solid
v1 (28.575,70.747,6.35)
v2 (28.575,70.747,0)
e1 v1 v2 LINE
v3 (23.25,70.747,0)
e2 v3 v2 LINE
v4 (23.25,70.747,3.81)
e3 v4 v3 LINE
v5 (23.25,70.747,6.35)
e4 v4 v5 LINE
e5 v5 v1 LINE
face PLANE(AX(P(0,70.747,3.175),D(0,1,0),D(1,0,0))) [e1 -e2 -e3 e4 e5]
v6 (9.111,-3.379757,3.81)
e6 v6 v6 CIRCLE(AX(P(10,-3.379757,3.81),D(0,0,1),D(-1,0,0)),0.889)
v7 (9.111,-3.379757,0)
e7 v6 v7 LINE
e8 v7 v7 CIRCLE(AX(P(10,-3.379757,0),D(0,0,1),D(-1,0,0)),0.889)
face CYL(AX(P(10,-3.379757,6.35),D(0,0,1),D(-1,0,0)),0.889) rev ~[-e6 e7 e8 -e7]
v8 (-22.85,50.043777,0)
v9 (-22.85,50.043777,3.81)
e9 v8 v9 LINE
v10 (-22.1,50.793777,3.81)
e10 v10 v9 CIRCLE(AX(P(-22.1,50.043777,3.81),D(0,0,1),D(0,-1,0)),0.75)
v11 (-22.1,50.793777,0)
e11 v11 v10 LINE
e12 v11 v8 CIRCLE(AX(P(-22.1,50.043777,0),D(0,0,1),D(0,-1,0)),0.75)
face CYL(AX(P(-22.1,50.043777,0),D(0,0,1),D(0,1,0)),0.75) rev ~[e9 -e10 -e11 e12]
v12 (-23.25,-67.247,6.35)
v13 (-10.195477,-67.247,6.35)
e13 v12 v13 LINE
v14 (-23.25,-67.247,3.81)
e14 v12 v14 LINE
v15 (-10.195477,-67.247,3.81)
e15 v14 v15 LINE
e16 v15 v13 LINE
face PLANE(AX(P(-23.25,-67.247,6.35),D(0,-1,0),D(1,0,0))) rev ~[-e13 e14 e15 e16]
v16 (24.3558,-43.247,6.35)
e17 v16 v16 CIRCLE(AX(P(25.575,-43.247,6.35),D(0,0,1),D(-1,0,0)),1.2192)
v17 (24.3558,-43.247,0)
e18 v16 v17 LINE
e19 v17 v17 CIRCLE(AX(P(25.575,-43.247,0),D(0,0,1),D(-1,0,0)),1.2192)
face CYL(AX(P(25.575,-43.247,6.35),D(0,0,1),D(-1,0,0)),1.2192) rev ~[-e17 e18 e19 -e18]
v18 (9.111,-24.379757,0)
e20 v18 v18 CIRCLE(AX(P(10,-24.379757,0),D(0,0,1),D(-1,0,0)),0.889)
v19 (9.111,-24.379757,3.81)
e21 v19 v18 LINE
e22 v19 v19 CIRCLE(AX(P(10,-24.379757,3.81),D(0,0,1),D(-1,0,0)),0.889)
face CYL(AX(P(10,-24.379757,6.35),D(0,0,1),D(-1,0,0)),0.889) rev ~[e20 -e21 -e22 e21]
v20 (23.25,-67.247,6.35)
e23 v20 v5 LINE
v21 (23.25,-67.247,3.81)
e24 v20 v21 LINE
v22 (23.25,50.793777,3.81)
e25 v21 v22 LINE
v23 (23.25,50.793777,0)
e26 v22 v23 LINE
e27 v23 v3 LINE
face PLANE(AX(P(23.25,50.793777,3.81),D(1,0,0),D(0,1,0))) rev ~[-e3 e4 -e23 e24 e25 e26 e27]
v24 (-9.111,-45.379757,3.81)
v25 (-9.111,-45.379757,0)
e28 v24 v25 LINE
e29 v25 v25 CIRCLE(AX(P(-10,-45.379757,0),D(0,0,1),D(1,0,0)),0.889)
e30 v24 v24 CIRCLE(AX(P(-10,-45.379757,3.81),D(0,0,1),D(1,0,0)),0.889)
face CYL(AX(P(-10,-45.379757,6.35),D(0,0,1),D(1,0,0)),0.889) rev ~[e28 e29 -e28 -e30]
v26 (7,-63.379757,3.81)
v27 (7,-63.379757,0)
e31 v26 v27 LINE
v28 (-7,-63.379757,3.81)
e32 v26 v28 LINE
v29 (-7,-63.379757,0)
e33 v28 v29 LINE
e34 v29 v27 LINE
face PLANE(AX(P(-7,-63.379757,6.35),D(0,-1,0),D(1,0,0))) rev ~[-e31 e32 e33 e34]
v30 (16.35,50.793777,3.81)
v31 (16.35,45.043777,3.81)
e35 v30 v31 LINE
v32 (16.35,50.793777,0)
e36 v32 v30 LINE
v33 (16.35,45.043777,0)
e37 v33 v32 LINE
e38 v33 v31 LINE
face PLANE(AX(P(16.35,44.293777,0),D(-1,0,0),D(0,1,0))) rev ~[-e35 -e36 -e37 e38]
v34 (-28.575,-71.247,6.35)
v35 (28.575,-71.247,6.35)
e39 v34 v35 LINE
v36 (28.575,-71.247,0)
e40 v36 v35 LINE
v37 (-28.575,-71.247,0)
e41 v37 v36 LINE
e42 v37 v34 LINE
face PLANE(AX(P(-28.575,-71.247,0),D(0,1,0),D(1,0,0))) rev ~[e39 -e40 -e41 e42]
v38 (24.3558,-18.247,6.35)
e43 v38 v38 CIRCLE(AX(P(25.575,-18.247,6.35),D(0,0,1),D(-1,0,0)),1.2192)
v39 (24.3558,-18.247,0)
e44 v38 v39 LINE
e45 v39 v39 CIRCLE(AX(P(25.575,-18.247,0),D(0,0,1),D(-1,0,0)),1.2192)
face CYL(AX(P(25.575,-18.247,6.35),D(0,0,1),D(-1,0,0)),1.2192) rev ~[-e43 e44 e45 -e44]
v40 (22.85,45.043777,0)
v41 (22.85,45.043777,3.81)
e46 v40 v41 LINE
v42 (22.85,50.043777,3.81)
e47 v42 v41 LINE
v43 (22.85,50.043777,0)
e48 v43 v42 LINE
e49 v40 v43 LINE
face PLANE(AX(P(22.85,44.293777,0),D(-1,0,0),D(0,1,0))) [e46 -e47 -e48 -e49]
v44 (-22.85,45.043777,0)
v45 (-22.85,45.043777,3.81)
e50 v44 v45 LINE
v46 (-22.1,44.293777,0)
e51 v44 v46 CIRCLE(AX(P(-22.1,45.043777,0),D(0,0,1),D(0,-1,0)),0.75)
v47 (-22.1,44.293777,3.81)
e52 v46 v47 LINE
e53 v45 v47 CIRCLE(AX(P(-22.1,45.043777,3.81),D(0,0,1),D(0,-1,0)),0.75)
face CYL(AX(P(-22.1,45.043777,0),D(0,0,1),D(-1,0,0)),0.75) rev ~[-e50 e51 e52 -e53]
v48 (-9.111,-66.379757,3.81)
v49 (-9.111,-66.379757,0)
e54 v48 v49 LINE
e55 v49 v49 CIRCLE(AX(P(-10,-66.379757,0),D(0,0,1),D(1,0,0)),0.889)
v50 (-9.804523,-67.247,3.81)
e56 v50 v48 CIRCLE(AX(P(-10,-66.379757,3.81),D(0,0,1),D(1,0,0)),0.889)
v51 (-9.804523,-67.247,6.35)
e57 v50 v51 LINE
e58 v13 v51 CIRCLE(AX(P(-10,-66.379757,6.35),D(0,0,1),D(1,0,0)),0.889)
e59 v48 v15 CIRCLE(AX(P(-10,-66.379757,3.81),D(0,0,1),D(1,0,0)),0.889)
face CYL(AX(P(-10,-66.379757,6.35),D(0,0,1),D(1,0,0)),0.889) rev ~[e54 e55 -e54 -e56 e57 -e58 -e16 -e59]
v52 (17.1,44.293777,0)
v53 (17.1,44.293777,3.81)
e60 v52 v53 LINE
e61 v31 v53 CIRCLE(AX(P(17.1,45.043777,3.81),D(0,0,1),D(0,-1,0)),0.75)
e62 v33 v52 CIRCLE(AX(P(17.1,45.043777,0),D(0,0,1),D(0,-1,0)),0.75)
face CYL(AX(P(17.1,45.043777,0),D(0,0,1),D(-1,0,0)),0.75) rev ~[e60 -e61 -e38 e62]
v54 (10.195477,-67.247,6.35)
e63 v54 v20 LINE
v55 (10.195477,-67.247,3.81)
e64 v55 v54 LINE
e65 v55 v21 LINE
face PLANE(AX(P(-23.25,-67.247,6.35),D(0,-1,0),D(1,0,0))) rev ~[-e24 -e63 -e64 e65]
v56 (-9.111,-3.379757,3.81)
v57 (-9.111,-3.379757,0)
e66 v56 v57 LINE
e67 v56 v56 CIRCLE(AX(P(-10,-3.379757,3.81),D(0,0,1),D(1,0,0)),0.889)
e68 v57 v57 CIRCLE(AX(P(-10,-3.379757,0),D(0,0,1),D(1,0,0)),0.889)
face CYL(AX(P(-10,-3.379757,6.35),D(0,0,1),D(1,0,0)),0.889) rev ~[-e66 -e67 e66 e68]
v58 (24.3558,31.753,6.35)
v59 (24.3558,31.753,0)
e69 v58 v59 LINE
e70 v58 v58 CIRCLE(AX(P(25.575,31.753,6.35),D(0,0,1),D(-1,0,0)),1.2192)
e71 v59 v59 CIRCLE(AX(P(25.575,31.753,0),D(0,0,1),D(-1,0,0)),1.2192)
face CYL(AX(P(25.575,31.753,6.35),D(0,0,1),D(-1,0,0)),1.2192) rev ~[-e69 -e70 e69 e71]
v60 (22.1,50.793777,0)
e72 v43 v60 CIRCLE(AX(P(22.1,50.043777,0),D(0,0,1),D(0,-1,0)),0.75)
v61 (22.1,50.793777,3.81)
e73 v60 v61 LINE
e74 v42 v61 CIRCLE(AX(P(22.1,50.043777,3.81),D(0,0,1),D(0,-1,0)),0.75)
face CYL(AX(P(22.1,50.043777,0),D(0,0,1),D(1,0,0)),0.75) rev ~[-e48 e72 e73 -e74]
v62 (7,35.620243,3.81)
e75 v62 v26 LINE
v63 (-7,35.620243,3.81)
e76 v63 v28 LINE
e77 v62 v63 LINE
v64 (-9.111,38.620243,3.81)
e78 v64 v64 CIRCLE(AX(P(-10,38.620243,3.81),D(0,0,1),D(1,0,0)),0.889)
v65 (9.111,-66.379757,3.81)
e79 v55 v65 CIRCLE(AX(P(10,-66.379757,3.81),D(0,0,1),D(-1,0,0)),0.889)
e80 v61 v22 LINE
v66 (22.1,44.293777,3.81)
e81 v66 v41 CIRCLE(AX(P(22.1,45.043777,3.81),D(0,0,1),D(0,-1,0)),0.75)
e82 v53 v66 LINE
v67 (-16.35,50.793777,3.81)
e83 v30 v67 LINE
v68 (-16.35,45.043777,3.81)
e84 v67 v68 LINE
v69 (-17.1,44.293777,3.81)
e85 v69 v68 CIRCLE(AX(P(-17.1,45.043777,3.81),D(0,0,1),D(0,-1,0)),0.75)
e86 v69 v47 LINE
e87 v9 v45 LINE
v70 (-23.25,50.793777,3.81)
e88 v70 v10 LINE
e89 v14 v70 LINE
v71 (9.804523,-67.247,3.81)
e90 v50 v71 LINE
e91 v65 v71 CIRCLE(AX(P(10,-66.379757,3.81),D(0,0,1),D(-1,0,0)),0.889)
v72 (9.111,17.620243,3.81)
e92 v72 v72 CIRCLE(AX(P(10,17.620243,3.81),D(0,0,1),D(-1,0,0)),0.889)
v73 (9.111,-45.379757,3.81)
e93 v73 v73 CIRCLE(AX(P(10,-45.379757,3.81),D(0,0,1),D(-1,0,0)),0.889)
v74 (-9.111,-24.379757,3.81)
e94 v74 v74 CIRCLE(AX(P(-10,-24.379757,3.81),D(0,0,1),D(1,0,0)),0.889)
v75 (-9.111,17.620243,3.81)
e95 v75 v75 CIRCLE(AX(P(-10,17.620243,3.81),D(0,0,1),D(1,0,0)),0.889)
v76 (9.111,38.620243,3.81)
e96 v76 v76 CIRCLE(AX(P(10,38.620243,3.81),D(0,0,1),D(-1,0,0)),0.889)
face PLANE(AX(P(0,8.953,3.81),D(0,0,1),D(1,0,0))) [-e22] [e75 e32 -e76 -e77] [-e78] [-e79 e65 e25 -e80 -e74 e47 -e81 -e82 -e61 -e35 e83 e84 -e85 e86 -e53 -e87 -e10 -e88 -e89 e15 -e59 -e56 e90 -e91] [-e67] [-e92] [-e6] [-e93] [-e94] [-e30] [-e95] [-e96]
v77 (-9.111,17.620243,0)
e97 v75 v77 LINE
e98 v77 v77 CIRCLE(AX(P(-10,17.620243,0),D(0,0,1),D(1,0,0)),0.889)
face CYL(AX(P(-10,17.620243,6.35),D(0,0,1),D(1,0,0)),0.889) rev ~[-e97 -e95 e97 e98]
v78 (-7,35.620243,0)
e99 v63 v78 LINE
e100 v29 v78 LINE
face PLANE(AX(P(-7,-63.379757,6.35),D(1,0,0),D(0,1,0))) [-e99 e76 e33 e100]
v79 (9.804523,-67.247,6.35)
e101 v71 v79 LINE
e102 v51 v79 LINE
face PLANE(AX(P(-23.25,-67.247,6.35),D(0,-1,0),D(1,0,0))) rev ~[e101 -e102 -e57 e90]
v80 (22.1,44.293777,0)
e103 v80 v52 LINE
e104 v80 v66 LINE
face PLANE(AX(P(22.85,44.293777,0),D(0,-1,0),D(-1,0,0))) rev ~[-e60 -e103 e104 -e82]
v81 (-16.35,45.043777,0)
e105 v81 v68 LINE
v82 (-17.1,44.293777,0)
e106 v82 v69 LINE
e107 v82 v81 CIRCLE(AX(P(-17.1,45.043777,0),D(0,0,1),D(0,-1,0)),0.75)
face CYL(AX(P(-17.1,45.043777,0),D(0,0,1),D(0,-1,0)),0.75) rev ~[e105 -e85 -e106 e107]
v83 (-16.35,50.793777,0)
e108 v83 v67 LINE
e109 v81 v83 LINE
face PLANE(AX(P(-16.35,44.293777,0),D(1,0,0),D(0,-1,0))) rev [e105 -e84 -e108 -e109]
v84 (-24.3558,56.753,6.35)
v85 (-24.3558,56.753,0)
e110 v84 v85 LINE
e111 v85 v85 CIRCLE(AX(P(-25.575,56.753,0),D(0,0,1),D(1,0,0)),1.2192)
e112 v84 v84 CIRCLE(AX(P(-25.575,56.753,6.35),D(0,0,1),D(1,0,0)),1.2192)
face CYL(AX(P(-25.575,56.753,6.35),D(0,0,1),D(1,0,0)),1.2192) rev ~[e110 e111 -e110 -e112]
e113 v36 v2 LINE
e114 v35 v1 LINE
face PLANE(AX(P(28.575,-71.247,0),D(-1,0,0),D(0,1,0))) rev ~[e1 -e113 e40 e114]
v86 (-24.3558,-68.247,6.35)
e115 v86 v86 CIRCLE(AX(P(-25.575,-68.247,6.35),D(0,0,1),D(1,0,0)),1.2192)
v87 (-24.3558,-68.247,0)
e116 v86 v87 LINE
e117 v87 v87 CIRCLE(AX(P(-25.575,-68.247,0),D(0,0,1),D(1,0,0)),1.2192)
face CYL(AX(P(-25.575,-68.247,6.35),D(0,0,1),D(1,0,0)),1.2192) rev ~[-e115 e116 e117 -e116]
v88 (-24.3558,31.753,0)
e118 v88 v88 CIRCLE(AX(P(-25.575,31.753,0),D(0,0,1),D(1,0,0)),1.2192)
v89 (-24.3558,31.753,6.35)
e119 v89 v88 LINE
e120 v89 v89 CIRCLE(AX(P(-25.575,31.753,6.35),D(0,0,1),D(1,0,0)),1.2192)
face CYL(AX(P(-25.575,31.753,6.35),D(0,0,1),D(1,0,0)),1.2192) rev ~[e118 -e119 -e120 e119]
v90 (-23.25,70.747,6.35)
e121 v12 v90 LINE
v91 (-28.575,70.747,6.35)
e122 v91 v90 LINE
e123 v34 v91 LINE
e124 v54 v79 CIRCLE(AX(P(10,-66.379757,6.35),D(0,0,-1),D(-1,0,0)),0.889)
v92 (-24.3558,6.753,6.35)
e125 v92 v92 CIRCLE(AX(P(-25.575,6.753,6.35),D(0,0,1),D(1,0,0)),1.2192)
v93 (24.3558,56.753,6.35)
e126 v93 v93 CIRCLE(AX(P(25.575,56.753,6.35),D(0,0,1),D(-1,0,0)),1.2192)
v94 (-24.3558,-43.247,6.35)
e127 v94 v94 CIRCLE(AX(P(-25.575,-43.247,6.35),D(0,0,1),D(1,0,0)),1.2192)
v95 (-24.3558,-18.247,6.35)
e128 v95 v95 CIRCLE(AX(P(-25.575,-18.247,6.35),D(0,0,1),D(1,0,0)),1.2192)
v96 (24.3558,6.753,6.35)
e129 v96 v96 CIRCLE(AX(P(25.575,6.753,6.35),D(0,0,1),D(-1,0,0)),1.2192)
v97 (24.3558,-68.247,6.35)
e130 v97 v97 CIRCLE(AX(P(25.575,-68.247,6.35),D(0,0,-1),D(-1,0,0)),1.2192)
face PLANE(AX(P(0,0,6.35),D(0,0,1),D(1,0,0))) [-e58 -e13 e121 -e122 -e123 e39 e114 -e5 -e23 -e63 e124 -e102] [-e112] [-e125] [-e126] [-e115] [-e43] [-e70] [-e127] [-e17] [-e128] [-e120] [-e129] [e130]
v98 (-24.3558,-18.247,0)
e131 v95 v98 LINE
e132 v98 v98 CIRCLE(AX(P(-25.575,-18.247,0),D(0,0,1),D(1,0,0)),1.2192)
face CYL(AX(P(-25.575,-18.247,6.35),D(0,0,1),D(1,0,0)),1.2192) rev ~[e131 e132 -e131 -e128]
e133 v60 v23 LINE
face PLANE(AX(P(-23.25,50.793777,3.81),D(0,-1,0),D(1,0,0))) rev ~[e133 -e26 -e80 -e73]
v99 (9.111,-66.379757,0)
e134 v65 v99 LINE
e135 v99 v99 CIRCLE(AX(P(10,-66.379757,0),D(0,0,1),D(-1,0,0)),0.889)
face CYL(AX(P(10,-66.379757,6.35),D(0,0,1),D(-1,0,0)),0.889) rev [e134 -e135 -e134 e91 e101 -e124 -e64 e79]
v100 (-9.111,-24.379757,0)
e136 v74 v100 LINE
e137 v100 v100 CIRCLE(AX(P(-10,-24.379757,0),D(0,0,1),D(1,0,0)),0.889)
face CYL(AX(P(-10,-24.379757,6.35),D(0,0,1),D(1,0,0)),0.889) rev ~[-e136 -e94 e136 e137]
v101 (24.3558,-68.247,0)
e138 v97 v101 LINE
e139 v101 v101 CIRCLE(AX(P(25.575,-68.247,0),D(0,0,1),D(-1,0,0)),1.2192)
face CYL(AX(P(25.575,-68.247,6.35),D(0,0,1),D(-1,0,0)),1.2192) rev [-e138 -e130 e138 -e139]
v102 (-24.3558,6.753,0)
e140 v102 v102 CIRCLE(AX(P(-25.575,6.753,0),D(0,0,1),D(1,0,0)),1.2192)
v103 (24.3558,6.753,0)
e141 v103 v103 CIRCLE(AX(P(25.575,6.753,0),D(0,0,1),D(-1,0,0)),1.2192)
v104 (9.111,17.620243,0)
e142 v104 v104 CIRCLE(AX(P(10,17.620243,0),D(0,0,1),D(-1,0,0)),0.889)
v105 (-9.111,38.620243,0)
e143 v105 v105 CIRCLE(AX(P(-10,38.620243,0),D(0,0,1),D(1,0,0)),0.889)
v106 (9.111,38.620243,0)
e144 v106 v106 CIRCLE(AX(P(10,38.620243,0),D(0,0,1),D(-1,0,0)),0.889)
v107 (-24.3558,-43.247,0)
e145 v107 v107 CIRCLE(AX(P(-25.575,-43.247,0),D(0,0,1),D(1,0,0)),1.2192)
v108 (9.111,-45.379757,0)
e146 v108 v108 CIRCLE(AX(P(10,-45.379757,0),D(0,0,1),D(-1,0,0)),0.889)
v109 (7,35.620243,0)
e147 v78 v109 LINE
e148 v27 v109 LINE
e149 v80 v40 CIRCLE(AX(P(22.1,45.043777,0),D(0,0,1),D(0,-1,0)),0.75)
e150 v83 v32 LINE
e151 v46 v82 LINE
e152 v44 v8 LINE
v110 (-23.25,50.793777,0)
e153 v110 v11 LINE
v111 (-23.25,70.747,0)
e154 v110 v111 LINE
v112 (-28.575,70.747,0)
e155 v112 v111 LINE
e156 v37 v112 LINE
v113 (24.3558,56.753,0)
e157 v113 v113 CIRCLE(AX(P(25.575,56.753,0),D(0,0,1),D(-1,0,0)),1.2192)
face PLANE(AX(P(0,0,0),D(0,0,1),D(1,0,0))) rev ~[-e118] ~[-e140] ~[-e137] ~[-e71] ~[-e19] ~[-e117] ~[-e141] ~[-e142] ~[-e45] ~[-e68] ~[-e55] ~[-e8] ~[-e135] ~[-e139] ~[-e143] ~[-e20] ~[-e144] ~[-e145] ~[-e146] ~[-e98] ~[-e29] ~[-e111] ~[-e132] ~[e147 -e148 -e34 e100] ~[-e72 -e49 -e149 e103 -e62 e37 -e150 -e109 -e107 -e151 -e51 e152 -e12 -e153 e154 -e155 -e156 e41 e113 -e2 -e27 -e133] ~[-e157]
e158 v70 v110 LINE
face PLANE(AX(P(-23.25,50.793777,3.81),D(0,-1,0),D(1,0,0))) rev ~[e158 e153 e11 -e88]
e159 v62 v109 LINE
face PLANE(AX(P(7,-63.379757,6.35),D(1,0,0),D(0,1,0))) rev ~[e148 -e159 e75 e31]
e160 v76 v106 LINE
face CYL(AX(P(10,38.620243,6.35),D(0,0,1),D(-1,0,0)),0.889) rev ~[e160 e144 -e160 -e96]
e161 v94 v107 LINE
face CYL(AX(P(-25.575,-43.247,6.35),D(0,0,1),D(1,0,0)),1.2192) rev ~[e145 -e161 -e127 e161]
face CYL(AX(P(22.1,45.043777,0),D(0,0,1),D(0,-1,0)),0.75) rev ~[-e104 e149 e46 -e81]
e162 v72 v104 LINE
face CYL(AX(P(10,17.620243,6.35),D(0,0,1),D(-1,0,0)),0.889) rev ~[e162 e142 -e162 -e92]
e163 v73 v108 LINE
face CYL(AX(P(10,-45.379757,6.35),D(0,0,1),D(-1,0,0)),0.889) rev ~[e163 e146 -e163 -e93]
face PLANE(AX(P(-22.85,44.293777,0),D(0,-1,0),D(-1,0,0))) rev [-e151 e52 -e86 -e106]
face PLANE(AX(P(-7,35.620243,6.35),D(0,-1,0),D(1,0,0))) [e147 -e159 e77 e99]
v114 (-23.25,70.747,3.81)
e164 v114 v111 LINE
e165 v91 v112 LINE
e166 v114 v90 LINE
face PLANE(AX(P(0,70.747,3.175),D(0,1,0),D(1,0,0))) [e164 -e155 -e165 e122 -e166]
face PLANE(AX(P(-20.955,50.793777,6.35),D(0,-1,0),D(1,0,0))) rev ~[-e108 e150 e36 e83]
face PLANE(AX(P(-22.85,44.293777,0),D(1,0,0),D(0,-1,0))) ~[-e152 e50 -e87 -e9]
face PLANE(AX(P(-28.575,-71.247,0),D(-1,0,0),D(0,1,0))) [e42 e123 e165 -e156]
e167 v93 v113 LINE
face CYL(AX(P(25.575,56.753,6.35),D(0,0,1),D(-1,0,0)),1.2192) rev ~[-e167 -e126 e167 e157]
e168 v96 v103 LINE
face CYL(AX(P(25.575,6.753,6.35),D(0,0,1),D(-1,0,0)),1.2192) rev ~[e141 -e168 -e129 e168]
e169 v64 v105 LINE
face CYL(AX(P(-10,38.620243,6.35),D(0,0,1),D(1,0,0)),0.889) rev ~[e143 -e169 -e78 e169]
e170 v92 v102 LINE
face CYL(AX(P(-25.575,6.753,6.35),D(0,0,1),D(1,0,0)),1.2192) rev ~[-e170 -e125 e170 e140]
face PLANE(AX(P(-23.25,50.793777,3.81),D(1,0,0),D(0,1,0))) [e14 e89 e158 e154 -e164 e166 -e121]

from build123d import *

# Parameters (mm, degrees)
SKETCH1_W                 = 57.15
SKETCH1_H                 = 142.494
BOSS_EXTRUDE1_DEPTH       = 6.35
SKETCH2_W                 = 14
SKETCH2_H                 = 99
CUT_EXTRUDE1_DEPTH        = 78.025892621
SKETCH3_R                 = 1.2192
CUT_EXTRUDE2_DEPTH        = 78.025892621
LPATTERN1_COUNT           = 6
LPATTERN1_PITCH           = 25
LPATTERN1_COPY_1_SKETCH_R = 1.2192
LPATTERN1_COPY_1_DEPTH    = 78.025892621
LPATTERN1_COPY_2_SKETCH_R = 1.2192
LPATTERN1_COPY_2_DEPTH    = 78.025892621
LPATTERN1_COPY_3_SKETCH_R = 1.2192
LPATTERN1_COPY_3_DEPTH    = 78.025892621
LPATTERN1_COPY_4_SKETCH_R = 1.2192
LPATTERN1_COPY_4_DEPTH    = 78.025892621
LPATTERN1_COPY_5_SKETCH_R = 1.2192
LPATTERN1_COPY_5_DEPTH    = 78.025892621
SKETCH4_R                 = 0.889
CUT_EXTRUDE3_DEPTH        = 78.025892621
LPATTERN2_COUNT           = 6
LPATTERN2_PITCH           = 21
LPATTERN2_COPY_1_SKETCH_R = 0.889
LPATTERN2_COPY_1_DEPTH    = 78.025892621
LPATTERN2_COPY_2_SKETCH_R = 0.889
LPATTERN2_COPY_2_DEPTH    = 78.025892621
LPATTERN2_COPY_3_SKETCH_R = 0.889
LPATTERN2_COPY_3_DEPTH    = 78.025892621
LPATTERN2_COPY_4_SKETCH_R = 0.889
LPATTERN2_COPY_4_DEPTH    = 78.025892621
LPATTERN2_COPY_5_SKETCH_R = 0.889
LPATTERN2_COPY_5_DEPTH    = 78.025892621
SKETCH6_W                 = 41.91
SKETCH6_H                 = 10.16
CUT_EXTRUDE4_DEPTH        = 78.025892621
SKETCH8_W                 = 46.5
SKETCH8_H                 = 152.4
CUT_EXTRUDE6_DEPTH        = 2.54
SKETCH9_W                 = 57.15
SKETCH9_H                 = 6.35
CUT_EXTRUDE7_DEPTH        = 0.5
SKETCH11_W                = 6.5
SKETCH11_H                = 6.5
CUT_EXTRUDE8_DEPTH        = 78.025892621
FILLET1_R                 = 0.75
FILLET1_OF_MIRROR4_R      = 0.75
SKETCH12_W                = 41.91
SKETCH12_H                = 9.793222615
CUT_EXTRUDE9_DEPTH        = 77.858192368
SKETCH13_W                = 46.5
SKETCH13_H                = 19.953222615
CUT_EXTRUDE10_DEPTH       = 77.858192368


with BuildPart() as part:
    # Sketch1 → Boss-Extrude1 (new body)
    with BuildSketch(Plane.XY):
        Rectangle(SKETCH1_W, SKETCH1_H)
    extrude(amount=BOSS_EXTRUDE1_DEPTH)

    # Sketch2 → Cut-Extrude1 (cut, through all)
    with BuildSketch(Plane.XY.offset(6.35)):
        with Locations((0, -13.879757445)):
            Rectangle(SKETCH2_W, SKETCH2_H)
    extrude(amount=-CUT_EXTRUDE1_DEPTH, mode=Mode.SUBTRACT)

    # Sketch3 → Cut-Extrude2 (cut, through all)
    with BuildSketch(Plane.XY.offset(6.35)):
        with Locations((-25.575, -68.247)):
            Circle(SKETCH3_R)
    cut_extrude2 = extrude(amount=-CUT_EXTRUDE2_DEPTH, mode=Mode.SUBTRACT)

    # Mirror1: Cut-Extrude2 across plane
    add(cut_extrude2.mirror(Plane(origin=(0, 0, 0), x_dir=(0, 0, 1), z_dir=(1, 0, 0))), mode=Mode.SUBTRACT)

    # LPattern1: Cut-Extrude2 ×6
    with Locations(*[(0, i * LPATTERN1_PITCH, 0) for i in range(1, LPATTERN1_COUNT)]):
        add(cut_extrude2, mode=Mode.SUBTRACT)

    # LPattern1 copy 1 sketch → LPattern1 copy 1 (cut, through all)
    with BuildSketch(Plane(origin=(0, 25, 6.35), x_dir=(-1, 0, 0), z_dir=(0, 0, 1))):
        with Locations((-25.575, 68.247)):
            Circle(LPATTERN1_COPY_1_SKETCH_R)
    extrude(amount=-LPATTERN1_COPY_1_DEPTH, mode=Mode.SUBTRACT)

    # LPattern1 copy 2 sketch → LPattern1 copy 2 (cut, through all)
    with BuildSketch(Plane(origin=(0, 50, 6.35), x_dir=(-1, 0, 0), z_dir=(0, 0, 1))):
        with Locations((-25.575, 68.247)):
            Circle(LPATTERN1_COPY_2_SKETCH_R)
    extrude(amount=-LPATTERN1_COPY_2_DEPTH, mode=Mode.SUBTRACT)

    # LPattern1 copy 3 sketch → LPattern1 copy 3 (cut, through all)
    with BuildSketch(Plane(origin=(0, 75, 6.35), x_dir=(-1, 0, 0), z_dir=(0, 0, 1))):
        with Locations((-25.575, 68.247)):
            Circle(LPATTERN1_COPY_3_SKETCH_R)
    extrude(amount=-LPATTERN1_COPY_3_DEPTH, mode=Mode.SUBTRACT)

    # LPattern1 copy 4 sketch → LPattern1 copy 4 (cut, through all)
    with BuildSketch(Plane(origin=(0, 100, 6.35), x_dir=(-1, 0, 0), z_dir=(0, 0, 1))):
        with Locations((-25.575, 68.247)):
            Circle(LPATTERN1_COPY_4_SKETCH_R)
    extrude(amount=-LPATTERN1_COPY_4_DEPTH, mode=Mode.SUBTRACT)

    # LPattern1 copy 5 sketch → LPattern1 copy 5 (cut, through all)
    with BuildSketch(Plane(origin=(0, 125, 6.35), x_dir=(-1, 0, 0), z_dir=(0, 0, 1))):
        with Locations((-25.575, 68.247)):
            Circle(LPATTERN1_COPY_5_SKETCH_R)
    extrude(amount=-LPATTERN1_COPY_5_DEPTH, mode=Mode.SUBTRACT)

    # Sketch4 → Cut-Extrude3 (cut, through all)
    with BuildSketch(Plane.XY.offset(6.35)):
        with Locations((-10, -66.379757445)):
            Circle(SKETCH4_R)
    cut_extrude3 = extrude(amount=-CUT_EXTRUDE3_DEPTH, mode=Mode.SUBTRACT)

    # Mirror2: Cut-Extrude3 across plane
    add(cut_extrude3.mirror(Plane(origin=(0, 0, 0), x_dir=(0, 0, 1), z_dir=(1, 0, 0))), mode=Mode.SUBTRACT)

    # LPattern2: Cut-Extrude3 ×6
    with Locations(*[(0, i * LPATTERN2_PITCH, 0) for i in range(1, LPATTERN2_COUNT)]):
        add(cut_extrude3, mode=Mode.SUBTRACT)

    # LPattern2 copy 1 sketch → LPattern2 copy 1 (cut, through all)
    with BuildSketch(Plane(origin=(0, 21, 6.35), x_dir=(-1, 0, 0), z_dir=(0, 0, 1))):
        with Locations((-10, 66.379757445)):
            Circle(LPATTERN2_COPY_1_SKETCH_R)
    extrude(amount=-LPATTERN2_COPY_1_DEPTH, mode=Mode.SUBTRACT)

    # LPattern2 copy 2 sketch → LPattern2 copy 2 (cut, through all)
    with BuildSketch(Plane(origin=(0, 42, 6.35), x_dir=(-1, 0, 0), z_dir=(0, 0, 1))):
        with Locations((-10, 66.379757445)):
            Circle(LPATTERN2_COPY_2_SKETCH_R)
    extrude(amount=-LPATTERN2_COPY_2_DEPTH, mode=Mode.SUBTRACT)

    # LPattern2 copy 3 sketch → LPattern2 copy 3 (cut, through all)
    with BuildSketch(Plane(origin=(0, 63, 6.35), x_dir=(-1, 0, 0), z_dir=(0, 0, 1))):
        with Locations((-10, 66.379757445)):
            Circle(LPATTERN2_COPY_3_SKETCH_R)
    extrude(amount=-LPATTERN2_COPY_3_DEPTH, mode=Mode.SUBTRACT)

    # LPattern2 copy 4 sketch → LPattern2 copy 4 (cut, through all)
    with BuildSketch(Plane(origin=(0, 84, 6.35), x_dir=(-1, 0, 0), z_dir=(0, 0, 1))):
        with Locations((-10, 66.379757445)):
            Circle(LPATTERN2_COPY_4_SKETCH_R)
    extrude(amount=-LPATTERN2_COPY_4_DEPTH, mode=Mode.SUBTRACT)

    # LPattern2 copy 5 sketch → LPattern2 copy 5 (cut, through all)
    with BuildSketch(Plane(origin=(0, 105, 6.35), x_dir=(-1, 0, 0), z_dir=(0, 0, 1))):
        with Locations((-10, 66.379757445)):
            Circle(LPATTERN2_COPY_5_SKETCH_R)
    extrude(amount=-LPATTERN2_COPY_5_DEPTH, mode=Mode.SUBTRACT)

    # Sketch6 → Cut-Extrude4 (cut, through all)
    with BuildSketch(Plane.XY.offset(6.35)):
        with Locations((0, 55.873777385)):
            Rectangle(SKETCH6_W, SKETCH6_H)
    extrude(amount=-CUT_EXTRUDE4_DEPTH, mode=Mode.SUBTRACT)

    # Sketch8 → Cut-Extrude6 (cut)
    with BuildSketch(Plane.XY.offset(6.35)):
        with Locations((0, 8.953)):
            Rectangle(SKETCH8_W, SKETCH8_H)
    extrude(amount=-CUT_EXTRUDE6_DEPTH, mode=Mode.SUBTRACT)

    # Sketch9 → Cut-Extrude7 (cut)
    with BuildSketch(Plane(origin=(0, 71.247, 0), x_dir=(1, 0, 0), z_dir=(0, 1, 0))):
        with Locations((0, -3.175)):
            Rectangle(SKETCH9_W, SKETCH9_H)
    extrude(amount=-CUT_EXTRUDE7_DEPTH, mode=Mode.SUBTRACT)

    # Sketch11 → Cut-Extrude8 (cut, through all)
    with BuildSketch(Plane(origin=(0, 0, 0), x_dir=(-1, 0, 0), z_dir=(0, 0, -1))):
        with Locations((-19.6, 47.543777385)):
            Rectangle(SKETCH11_W, SKETCH11_H)
    cut_extrude8 = extrude(amount=-CUT_EXTRUDE8_DEPTH, mode=Mode.SUBTRACT)

    # Fillet1
    fillet1_edges = [part.edges().sort_by_distance(p)[0] for p in [
        (16.35, 44.293777385, 1.905),
        (22.85, 44.293777385, 1.905),
        (22.85, 50.793777385, 1.905),
    ]]
    fillet(fillet1_edges, radius=FILLET1_R)

    # Mirror4: Cut-Extrude8 across plane
    add(cut_extrude8.mirror(Plane(origin=(0, 0, 0), x_dir=(0, 0, 1), z_dir=(1, 0, 0))), mode=Mode.SUBTRACT)

    # Fillet1 of Mirror4
    fillet1_of_mirror4_edges = [part.edges().sort_by_distance(p)[0] for p in [
        (-16.35, 44.293777385, 1.905),
        (-22.85, 44.293777385, 1.905),
        (-22.85, 50.793777385, 1.905),
    ]]
    fillet(fillet1_of_mirror4_edges, radius=FILLET1_OF_MIRROR4_R)

    # Sketch12 → Cut-Extrude9 (cut, through all)
    with BuildSketch(Plane.XY.offset(3.81)):
        with Locations((0, 65.850388693)):
            Rectangle(SKETCH12_W, SKETCH12_H)
    extrude(amount=-CUT_EXTRUDE9_DEPTH, mode=Mode.SUBTRACT)

    # Sketch13 → Cut-Extrude10 (cut, through all)
    with BuildSketch(Plane.XY.offset(3.81)):
        with Locations((0, 60.770388693)):
            Rectangle(SKETCH13_W, SKETCH13_H)
    extrude(amount=-CUT_EXTRUDE10_DEPTH, mode=Mode.SUBTRACT)


solid = part.part
